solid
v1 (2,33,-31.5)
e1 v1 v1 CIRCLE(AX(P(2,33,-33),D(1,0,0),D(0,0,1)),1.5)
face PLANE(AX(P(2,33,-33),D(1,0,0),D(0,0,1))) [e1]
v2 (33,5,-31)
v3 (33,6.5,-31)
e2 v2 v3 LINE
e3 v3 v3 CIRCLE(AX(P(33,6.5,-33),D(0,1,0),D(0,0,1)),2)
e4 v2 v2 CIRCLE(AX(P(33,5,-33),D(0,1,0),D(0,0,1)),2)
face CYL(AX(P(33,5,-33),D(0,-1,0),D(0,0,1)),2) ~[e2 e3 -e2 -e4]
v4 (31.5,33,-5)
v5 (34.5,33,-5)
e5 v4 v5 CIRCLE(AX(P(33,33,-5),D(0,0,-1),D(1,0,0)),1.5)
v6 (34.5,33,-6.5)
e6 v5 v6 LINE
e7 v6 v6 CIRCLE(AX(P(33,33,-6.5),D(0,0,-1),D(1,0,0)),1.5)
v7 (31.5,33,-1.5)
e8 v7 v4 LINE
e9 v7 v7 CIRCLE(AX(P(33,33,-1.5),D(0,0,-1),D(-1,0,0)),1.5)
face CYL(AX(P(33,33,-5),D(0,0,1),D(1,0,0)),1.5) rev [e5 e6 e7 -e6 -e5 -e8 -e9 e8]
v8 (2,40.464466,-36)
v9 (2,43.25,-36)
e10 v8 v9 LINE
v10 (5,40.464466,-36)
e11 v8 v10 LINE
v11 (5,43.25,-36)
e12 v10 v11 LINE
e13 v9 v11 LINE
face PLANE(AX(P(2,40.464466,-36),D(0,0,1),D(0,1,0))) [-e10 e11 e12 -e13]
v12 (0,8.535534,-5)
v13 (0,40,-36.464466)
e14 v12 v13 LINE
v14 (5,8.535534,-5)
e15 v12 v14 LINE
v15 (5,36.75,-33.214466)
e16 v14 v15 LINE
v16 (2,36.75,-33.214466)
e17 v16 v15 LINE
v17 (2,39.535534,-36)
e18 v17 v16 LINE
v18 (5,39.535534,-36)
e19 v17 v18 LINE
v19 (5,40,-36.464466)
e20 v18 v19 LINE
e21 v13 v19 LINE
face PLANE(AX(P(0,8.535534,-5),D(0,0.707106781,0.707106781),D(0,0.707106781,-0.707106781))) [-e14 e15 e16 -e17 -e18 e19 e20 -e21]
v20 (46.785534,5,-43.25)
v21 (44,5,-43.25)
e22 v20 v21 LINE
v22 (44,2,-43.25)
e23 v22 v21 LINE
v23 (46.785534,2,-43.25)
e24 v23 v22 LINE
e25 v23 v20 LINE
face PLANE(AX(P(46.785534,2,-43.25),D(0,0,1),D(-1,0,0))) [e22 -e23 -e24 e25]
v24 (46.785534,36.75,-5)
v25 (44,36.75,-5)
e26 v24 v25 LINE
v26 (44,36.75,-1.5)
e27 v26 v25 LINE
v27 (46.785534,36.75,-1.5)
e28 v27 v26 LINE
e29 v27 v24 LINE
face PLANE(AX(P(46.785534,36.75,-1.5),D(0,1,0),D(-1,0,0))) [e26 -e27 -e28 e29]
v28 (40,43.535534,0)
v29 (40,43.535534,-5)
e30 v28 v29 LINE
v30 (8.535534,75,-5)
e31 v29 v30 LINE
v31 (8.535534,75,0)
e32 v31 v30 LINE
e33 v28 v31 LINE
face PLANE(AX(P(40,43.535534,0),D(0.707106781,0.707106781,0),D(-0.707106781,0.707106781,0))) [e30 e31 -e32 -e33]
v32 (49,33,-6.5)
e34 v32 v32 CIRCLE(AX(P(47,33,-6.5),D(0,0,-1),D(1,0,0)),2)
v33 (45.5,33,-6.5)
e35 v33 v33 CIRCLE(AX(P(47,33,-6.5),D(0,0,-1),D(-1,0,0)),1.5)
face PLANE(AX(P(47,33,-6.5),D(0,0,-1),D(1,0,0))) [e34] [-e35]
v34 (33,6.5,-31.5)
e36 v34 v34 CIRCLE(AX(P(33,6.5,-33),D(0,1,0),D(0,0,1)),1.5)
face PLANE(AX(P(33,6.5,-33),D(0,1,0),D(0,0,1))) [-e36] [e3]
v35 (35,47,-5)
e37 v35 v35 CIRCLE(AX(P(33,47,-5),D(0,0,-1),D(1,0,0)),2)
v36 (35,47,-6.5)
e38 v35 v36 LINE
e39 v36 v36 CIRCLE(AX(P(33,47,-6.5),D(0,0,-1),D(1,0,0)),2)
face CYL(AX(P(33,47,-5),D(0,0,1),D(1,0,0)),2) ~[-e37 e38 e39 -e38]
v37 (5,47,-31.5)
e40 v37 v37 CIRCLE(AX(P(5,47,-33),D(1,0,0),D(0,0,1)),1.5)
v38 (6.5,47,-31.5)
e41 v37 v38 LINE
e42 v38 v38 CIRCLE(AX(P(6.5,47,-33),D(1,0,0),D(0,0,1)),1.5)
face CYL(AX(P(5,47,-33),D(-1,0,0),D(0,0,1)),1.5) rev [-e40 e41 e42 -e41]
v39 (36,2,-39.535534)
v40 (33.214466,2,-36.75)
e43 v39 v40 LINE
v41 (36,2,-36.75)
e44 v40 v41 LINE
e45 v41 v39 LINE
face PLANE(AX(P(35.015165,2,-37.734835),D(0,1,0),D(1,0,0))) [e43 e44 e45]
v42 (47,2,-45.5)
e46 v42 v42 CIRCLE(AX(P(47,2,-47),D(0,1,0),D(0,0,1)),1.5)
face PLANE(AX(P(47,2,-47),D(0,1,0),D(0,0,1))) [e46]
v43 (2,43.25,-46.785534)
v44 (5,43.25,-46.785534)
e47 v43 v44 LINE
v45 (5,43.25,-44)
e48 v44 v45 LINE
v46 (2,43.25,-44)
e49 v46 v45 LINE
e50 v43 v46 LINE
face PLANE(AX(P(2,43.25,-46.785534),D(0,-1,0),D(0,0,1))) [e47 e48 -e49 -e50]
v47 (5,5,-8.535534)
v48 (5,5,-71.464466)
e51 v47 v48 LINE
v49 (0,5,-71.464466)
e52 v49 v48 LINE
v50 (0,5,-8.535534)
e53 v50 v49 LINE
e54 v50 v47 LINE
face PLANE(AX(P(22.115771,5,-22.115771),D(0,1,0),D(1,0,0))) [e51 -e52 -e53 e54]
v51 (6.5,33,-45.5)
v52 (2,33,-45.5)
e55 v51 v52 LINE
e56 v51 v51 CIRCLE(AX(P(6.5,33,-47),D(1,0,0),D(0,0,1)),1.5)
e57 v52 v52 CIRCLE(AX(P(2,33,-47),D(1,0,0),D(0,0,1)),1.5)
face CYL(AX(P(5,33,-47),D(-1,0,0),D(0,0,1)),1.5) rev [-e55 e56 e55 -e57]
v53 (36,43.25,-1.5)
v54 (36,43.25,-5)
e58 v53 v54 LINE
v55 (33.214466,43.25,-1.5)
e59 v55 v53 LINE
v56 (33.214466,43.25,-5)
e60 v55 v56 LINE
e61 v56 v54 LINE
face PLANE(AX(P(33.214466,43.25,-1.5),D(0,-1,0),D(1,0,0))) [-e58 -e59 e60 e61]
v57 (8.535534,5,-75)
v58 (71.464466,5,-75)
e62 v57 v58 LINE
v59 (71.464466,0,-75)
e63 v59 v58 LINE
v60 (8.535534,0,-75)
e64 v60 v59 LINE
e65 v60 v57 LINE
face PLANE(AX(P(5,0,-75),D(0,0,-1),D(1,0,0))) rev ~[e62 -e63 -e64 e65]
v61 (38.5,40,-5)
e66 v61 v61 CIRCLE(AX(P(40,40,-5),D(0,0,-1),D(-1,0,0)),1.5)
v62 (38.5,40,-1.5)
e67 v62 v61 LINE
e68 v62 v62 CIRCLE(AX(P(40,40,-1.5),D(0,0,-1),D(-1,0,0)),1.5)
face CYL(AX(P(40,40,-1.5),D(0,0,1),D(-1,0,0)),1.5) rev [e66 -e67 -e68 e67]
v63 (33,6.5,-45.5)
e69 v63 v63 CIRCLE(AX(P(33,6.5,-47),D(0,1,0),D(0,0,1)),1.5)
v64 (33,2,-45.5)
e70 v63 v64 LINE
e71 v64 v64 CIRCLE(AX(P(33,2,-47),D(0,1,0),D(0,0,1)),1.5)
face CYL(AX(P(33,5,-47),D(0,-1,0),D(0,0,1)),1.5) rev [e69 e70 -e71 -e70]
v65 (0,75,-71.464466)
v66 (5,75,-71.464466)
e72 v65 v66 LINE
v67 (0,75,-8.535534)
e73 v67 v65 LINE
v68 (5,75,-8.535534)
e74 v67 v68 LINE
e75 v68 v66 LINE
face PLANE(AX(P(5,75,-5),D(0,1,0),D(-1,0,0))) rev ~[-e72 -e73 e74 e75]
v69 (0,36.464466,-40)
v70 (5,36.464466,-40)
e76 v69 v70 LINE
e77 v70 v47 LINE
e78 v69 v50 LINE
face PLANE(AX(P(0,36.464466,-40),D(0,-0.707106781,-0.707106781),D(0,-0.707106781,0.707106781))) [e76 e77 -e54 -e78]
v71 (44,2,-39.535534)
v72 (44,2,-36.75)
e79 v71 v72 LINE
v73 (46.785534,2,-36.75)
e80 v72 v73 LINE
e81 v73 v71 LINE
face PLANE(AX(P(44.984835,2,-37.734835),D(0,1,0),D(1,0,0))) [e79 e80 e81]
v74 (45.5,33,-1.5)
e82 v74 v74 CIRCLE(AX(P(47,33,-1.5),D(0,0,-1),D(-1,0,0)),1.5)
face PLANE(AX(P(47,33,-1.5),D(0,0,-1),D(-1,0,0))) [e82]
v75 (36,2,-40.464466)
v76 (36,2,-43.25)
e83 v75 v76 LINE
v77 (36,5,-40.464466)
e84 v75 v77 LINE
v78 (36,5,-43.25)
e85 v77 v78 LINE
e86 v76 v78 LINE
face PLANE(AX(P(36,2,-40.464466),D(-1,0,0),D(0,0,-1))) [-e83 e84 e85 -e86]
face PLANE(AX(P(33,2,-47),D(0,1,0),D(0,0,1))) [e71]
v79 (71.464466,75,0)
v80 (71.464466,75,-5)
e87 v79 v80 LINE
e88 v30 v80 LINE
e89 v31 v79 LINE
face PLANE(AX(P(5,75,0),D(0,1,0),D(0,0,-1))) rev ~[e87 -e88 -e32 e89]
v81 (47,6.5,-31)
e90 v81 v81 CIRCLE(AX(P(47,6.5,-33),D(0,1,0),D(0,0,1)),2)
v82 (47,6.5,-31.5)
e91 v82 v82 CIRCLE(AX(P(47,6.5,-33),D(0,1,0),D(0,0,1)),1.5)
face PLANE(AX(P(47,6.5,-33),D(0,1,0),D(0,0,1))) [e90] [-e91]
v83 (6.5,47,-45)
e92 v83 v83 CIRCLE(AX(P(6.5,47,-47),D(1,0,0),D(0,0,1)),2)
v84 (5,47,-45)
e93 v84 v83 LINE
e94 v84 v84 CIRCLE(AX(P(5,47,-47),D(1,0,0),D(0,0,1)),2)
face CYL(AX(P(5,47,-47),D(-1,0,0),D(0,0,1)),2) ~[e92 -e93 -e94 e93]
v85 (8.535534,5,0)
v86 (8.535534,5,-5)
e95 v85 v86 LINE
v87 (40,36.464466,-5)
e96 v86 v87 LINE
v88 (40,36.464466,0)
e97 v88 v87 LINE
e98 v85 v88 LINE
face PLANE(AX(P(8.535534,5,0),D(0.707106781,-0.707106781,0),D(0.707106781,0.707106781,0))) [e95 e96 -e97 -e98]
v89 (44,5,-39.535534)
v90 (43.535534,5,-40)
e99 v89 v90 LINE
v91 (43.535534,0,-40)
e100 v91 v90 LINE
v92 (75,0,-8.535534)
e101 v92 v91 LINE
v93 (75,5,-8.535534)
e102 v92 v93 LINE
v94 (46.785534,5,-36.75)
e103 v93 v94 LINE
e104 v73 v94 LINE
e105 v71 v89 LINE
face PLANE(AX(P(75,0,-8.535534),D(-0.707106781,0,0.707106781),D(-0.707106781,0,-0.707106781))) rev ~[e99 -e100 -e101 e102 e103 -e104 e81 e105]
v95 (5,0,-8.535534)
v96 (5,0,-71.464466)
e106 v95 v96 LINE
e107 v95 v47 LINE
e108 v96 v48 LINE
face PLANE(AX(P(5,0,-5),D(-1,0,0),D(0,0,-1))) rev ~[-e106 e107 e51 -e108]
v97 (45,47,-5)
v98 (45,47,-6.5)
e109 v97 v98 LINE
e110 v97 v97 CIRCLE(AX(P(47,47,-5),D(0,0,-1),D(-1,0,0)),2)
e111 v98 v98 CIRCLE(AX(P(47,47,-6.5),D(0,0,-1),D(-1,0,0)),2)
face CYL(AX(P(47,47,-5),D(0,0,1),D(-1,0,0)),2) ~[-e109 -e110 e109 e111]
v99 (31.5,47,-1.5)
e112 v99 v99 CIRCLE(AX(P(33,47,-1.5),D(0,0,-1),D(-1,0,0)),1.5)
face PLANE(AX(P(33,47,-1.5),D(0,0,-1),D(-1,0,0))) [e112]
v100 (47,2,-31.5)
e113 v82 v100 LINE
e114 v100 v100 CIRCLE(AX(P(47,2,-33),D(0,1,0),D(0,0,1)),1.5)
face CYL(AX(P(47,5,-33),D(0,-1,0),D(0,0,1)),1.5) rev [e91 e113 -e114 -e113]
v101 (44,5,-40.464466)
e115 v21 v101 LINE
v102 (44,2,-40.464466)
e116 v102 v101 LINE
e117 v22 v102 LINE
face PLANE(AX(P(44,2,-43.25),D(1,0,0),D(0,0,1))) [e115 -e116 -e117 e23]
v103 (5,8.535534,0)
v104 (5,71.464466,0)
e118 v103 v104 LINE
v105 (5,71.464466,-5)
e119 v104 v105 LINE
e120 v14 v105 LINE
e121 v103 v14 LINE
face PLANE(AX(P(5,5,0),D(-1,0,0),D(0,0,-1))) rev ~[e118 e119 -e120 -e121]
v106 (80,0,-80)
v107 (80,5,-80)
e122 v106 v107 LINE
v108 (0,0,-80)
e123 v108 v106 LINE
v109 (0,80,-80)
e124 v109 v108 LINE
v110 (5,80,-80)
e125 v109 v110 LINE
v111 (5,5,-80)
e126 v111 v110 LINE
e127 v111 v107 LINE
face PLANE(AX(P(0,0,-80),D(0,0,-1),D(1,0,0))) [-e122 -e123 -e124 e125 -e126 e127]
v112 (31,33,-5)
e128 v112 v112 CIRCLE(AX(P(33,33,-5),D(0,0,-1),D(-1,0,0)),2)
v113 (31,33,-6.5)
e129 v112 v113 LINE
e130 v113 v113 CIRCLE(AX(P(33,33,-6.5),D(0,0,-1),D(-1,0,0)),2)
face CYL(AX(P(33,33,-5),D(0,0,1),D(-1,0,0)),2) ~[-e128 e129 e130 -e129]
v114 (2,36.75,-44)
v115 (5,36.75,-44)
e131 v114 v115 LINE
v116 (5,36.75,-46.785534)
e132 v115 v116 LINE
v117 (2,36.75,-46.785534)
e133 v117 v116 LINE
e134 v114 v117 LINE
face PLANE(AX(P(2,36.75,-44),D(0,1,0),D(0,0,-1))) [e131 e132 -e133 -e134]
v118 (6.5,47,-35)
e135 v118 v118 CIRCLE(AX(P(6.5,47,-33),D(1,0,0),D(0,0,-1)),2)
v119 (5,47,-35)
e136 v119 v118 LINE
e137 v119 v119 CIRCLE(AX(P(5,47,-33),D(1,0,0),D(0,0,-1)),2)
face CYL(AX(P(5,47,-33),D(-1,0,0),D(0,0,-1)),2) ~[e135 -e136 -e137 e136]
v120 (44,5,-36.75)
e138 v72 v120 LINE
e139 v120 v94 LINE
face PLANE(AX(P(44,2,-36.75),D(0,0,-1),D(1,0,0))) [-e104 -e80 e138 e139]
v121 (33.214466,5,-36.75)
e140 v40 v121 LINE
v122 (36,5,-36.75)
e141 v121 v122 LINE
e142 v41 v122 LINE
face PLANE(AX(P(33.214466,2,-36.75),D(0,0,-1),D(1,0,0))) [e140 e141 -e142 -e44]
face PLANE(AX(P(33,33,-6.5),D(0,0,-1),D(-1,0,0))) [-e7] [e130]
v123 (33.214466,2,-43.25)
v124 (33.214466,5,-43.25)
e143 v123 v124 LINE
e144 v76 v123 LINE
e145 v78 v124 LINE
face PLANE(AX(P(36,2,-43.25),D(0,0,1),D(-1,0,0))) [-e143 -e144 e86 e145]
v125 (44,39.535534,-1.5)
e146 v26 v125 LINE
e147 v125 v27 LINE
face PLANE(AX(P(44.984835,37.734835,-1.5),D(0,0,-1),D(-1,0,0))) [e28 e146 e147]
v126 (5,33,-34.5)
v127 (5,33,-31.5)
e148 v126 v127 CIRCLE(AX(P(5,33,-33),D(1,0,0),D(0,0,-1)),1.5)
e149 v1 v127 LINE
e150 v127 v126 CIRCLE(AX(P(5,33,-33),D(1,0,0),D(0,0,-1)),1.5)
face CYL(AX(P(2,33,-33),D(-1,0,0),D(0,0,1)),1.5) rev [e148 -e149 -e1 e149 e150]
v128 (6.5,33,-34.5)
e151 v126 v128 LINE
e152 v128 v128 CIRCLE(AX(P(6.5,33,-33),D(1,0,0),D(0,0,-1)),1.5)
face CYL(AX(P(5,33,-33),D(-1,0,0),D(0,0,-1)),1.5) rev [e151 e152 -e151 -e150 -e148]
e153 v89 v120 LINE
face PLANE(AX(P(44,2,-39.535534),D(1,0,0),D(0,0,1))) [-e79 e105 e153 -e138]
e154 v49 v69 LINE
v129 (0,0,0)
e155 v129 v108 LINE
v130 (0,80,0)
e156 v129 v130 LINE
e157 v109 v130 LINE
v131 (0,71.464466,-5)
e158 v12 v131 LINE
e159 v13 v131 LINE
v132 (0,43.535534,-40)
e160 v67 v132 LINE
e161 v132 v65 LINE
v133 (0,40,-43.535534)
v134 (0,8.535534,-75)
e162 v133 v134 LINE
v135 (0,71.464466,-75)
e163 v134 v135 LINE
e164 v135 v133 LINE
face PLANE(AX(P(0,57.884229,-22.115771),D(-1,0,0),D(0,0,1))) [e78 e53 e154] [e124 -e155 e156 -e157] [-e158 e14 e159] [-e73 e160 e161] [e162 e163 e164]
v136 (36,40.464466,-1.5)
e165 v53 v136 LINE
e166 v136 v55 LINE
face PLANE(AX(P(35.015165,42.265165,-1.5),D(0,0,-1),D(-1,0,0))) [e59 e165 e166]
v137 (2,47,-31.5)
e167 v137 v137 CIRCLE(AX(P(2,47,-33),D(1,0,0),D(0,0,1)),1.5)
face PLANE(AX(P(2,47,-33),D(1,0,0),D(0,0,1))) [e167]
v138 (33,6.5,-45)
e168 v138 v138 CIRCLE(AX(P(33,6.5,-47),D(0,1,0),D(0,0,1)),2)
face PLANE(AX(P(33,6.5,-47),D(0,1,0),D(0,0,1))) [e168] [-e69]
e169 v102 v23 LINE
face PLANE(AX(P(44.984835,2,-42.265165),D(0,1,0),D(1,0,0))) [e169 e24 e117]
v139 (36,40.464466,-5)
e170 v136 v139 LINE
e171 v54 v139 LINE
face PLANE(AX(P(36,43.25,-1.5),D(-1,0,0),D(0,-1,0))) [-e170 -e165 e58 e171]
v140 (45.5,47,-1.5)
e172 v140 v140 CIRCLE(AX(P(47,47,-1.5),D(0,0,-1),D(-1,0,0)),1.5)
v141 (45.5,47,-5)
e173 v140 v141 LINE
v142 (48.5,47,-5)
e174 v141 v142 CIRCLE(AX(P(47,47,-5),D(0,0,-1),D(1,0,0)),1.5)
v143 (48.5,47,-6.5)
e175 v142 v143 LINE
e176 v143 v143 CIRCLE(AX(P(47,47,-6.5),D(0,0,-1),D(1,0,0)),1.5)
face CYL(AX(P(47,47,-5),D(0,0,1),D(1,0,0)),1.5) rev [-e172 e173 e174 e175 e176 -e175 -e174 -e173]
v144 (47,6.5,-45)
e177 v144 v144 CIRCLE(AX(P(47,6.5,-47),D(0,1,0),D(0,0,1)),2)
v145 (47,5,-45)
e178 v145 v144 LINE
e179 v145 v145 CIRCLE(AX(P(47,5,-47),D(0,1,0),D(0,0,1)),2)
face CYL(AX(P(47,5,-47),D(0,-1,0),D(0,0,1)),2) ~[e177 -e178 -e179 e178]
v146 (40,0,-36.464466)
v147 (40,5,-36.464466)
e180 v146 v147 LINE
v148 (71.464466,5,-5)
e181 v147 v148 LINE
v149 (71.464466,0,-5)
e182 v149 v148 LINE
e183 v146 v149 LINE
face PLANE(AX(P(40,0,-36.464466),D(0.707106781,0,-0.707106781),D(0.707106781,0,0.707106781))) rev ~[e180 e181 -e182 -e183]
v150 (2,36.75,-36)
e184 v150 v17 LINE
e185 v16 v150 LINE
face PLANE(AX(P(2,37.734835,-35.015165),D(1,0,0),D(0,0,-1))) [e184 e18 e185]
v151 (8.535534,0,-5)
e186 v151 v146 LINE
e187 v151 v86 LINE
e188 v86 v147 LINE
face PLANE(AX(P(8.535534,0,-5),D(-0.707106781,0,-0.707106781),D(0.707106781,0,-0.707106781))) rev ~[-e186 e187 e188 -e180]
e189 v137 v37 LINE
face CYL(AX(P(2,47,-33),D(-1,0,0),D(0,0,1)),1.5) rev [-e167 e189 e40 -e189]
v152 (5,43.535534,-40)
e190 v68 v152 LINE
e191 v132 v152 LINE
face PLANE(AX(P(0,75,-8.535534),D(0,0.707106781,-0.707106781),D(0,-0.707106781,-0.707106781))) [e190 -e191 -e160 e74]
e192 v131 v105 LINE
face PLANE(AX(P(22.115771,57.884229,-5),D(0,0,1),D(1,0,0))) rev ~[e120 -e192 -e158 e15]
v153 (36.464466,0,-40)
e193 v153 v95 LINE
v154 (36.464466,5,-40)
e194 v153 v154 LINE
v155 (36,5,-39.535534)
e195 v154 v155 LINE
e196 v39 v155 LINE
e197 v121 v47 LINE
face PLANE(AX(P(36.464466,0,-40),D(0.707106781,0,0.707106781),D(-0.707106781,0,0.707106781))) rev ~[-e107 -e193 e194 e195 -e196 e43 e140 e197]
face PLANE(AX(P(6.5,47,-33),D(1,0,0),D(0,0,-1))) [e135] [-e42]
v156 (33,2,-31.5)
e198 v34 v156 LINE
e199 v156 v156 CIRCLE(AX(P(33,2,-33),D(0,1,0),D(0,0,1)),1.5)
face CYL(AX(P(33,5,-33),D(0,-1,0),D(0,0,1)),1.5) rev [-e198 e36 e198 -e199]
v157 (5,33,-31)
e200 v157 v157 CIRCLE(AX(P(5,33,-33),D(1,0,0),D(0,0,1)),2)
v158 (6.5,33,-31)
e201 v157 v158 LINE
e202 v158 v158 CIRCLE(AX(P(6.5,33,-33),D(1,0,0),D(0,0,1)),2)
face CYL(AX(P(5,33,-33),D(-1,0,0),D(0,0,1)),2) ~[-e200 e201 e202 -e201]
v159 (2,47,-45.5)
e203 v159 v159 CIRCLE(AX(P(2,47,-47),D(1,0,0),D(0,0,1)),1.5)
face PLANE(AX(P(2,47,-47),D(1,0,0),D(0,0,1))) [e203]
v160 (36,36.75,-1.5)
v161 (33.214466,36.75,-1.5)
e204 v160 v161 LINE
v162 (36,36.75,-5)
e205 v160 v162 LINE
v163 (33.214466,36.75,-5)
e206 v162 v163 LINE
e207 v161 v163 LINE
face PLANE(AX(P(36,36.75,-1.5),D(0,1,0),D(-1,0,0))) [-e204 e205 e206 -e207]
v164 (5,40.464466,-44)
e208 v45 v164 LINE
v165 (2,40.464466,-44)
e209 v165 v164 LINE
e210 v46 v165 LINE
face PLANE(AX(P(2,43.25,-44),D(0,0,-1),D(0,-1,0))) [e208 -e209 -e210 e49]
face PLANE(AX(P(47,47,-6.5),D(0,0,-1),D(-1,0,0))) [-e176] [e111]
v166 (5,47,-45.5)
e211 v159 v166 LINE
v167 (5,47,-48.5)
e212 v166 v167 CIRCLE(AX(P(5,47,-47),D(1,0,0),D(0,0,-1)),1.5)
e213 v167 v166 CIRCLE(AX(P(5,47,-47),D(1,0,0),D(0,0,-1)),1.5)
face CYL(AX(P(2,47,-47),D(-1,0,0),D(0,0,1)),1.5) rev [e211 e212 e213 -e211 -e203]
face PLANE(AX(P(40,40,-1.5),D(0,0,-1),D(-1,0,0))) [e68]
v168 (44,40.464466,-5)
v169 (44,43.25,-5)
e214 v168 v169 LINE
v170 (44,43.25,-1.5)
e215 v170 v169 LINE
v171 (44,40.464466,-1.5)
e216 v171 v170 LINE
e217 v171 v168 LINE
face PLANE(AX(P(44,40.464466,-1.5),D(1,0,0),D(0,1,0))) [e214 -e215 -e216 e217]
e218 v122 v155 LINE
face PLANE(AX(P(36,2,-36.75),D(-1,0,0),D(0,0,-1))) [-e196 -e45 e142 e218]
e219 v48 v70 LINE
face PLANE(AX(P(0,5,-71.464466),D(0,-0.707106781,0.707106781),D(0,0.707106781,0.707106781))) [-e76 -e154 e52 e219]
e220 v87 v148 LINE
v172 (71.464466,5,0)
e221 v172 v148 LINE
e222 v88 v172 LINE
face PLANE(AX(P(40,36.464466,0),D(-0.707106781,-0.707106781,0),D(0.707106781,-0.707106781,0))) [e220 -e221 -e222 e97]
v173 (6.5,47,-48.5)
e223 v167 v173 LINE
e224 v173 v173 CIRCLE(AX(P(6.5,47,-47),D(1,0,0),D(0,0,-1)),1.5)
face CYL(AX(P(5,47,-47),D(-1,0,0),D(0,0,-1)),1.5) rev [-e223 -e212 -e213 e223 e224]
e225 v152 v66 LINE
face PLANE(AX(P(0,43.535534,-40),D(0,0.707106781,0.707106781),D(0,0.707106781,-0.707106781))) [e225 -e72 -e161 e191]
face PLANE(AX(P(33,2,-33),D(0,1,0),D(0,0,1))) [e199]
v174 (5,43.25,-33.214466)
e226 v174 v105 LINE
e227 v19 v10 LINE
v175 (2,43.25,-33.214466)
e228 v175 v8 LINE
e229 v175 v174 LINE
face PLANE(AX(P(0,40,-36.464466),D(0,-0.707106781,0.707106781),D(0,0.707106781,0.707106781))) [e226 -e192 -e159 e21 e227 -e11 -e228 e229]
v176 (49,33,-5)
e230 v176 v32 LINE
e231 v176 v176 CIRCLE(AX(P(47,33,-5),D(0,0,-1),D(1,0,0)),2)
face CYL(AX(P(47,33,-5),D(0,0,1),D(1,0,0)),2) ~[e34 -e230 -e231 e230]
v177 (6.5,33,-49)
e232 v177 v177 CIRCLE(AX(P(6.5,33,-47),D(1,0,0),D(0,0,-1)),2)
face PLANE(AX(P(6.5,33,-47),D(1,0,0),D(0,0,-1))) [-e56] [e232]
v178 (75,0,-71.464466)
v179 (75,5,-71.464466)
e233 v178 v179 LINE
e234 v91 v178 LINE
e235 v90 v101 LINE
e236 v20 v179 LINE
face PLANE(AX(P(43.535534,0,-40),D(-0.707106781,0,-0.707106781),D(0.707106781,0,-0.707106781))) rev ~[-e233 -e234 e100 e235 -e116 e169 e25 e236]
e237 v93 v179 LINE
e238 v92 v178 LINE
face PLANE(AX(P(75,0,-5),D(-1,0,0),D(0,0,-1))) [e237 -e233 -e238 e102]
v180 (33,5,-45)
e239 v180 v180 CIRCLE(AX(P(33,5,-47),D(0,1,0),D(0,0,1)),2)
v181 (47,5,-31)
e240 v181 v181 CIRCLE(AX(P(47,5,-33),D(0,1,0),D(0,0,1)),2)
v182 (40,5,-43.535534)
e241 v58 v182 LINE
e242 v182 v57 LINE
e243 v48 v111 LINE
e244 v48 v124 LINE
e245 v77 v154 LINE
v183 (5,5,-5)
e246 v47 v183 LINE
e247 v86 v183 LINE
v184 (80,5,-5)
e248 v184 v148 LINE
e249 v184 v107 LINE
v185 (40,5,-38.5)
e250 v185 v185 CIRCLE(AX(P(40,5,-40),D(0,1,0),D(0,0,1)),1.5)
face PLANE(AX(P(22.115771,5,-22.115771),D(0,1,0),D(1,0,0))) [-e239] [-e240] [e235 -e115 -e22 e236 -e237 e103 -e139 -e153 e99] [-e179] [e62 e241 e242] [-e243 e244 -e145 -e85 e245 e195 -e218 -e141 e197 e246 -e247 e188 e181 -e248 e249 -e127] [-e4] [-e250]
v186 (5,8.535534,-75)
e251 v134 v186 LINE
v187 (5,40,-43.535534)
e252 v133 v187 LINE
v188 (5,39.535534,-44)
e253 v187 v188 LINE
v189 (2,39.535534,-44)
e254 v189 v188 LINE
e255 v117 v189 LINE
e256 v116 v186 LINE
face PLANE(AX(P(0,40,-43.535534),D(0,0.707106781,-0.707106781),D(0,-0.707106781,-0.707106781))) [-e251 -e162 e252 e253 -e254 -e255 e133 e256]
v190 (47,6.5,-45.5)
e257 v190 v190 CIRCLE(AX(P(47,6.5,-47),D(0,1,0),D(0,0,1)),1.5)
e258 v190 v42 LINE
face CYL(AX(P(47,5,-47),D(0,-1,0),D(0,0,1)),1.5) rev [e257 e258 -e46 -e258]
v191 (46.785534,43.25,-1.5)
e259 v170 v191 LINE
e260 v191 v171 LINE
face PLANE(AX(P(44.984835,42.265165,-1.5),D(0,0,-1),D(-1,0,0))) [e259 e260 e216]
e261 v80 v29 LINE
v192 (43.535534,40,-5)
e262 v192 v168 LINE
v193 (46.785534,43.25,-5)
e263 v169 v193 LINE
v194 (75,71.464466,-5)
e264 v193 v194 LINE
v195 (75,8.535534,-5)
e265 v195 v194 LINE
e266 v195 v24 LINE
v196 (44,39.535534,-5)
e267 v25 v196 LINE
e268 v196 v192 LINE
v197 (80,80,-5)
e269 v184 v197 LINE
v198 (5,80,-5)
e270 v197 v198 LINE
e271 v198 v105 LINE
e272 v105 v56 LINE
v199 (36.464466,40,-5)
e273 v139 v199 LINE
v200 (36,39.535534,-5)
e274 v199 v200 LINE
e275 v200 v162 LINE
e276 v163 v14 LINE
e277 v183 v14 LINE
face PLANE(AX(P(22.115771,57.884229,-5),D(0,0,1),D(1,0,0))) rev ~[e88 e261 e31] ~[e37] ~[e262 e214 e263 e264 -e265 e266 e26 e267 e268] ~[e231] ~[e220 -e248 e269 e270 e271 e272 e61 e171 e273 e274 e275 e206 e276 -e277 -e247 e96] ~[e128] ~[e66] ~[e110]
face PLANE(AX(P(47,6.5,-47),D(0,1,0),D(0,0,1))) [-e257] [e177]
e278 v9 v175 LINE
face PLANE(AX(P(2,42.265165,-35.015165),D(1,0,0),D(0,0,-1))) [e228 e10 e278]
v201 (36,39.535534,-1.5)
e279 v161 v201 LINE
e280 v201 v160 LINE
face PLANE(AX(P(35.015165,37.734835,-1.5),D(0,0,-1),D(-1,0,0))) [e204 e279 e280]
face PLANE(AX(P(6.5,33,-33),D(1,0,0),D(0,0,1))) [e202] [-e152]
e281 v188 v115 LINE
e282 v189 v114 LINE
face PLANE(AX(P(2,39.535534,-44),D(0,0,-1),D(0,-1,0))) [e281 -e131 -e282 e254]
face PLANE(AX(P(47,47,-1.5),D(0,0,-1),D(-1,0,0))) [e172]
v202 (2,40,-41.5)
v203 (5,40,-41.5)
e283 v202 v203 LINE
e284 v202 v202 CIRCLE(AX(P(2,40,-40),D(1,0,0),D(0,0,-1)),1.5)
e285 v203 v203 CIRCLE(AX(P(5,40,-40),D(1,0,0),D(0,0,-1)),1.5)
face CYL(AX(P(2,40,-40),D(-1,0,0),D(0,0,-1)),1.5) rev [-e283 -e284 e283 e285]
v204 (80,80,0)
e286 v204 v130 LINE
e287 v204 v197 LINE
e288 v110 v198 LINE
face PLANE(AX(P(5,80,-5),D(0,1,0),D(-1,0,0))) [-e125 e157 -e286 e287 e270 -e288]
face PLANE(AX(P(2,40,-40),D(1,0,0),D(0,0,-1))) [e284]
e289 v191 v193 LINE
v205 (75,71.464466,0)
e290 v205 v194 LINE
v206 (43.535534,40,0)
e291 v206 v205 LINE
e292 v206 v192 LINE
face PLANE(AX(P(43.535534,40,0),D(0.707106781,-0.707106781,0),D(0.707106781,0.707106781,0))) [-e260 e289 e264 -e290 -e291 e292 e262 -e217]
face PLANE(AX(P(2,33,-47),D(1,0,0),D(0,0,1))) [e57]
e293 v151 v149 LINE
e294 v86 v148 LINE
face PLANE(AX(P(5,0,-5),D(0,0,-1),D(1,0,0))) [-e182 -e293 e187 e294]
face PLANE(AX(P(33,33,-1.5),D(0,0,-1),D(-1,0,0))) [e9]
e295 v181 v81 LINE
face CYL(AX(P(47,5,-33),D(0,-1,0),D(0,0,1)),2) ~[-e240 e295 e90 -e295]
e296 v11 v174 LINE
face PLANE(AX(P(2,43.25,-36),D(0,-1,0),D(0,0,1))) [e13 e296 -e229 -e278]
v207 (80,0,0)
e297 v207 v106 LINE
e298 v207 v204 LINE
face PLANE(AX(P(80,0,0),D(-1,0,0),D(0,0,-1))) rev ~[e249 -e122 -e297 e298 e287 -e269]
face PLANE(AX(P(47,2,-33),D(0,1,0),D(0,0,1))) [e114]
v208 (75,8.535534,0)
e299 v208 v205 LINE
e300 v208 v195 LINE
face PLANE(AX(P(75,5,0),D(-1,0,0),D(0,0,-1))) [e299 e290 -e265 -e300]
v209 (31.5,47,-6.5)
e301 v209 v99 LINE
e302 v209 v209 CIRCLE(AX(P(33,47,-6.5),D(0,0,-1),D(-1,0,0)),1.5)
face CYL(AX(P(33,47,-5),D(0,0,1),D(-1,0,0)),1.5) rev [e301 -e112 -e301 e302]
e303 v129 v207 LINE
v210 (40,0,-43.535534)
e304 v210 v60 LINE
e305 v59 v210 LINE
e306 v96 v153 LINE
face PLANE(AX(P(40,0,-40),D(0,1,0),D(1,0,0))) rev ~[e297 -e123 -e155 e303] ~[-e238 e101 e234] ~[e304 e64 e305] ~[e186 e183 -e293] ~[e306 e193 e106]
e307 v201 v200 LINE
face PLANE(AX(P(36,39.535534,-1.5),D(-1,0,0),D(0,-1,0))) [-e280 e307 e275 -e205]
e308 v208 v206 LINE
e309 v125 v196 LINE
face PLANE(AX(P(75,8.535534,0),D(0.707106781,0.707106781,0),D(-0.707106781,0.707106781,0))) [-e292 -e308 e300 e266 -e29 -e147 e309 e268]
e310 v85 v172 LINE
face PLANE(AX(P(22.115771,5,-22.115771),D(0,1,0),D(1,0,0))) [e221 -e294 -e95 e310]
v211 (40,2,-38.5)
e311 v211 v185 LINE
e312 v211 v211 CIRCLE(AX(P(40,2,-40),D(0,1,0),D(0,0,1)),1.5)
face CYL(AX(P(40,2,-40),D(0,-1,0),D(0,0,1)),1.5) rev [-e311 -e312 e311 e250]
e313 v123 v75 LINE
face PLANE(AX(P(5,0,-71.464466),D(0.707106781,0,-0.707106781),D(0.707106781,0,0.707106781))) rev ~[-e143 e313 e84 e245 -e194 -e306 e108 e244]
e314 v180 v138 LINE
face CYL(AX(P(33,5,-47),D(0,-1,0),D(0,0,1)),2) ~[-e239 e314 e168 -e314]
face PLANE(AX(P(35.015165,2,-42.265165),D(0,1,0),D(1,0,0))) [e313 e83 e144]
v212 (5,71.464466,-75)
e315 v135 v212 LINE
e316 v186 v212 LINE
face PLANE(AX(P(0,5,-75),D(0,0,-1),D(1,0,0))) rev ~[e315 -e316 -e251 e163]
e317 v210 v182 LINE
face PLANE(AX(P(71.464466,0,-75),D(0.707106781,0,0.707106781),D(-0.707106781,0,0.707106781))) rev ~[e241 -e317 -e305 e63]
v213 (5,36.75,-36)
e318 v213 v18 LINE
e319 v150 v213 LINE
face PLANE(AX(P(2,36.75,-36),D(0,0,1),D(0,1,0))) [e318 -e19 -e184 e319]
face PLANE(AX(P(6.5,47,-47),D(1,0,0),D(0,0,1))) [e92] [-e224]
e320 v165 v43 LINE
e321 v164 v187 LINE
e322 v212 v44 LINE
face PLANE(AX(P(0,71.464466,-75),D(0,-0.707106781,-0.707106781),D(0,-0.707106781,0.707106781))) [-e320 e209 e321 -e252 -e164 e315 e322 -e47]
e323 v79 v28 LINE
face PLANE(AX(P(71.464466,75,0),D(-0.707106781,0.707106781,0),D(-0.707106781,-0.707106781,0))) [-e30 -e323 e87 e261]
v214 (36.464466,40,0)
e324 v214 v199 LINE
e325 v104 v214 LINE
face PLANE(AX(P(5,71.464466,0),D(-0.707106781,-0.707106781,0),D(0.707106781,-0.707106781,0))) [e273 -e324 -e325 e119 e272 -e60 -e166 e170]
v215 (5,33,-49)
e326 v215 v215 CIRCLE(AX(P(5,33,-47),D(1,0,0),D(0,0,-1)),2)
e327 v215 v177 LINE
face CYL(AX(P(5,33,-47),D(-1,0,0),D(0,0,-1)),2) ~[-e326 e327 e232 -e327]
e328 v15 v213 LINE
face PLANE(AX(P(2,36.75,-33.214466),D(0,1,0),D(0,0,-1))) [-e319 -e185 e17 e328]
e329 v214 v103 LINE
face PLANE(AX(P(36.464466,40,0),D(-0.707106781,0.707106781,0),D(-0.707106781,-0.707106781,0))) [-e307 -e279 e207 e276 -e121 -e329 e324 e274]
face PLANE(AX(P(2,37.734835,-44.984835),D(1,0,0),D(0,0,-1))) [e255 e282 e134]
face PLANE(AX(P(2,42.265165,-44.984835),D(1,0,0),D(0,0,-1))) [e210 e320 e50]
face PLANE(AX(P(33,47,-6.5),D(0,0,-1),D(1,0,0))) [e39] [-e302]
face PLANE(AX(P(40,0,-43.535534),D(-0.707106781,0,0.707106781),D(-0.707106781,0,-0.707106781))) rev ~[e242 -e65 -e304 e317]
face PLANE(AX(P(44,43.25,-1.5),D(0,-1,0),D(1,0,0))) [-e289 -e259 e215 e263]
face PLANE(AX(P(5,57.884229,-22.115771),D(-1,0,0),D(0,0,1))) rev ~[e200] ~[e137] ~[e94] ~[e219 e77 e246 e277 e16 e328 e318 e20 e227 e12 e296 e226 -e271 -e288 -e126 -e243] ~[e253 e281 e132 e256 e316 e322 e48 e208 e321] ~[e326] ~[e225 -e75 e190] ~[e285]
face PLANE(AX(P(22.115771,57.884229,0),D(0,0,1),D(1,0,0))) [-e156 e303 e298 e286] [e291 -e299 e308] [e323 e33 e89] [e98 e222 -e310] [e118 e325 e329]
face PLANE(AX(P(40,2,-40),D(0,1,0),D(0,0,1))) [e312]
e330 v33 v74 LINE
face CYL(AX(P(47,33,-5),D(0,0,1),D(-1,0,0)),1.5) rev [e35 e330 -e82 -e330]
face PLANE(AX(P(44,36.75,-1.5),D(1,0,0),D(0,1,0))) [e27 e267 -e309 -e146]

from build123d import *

# Parameters (mm, degrees)
SKETCH_1_W          = 80
SKETCH_1_H          = 80
SKETCH_1_W_2        = 70
SKETCH_1_H_2        = 70
EXTRUDE_1_DEPTH     = 5
SKETCH_2_W          = 5
SKETCH_2_H          = 5
EXTRUDE_2_DEPTH     = 75
SKETCH_4_W          = 5
SKETCH_4_H          = 5
EXTRUDE_3_DEPTH     = 70
EXTRUDE_4_DEPTH     = 5
SKETCH_7_W          = 5
SKETCH_7_H          = 5
EXTRUDE_5_DEPTH     = 70
EXTRUDE_6_DEPTH     = 5
SKETCH_11_R         = 2
SKETCH_11_R_2       = 1.5
EXTRUDE_7_DEPTH     = 1.5
CUT_EXTRUDE_START   = -3
SKETCH_11_2_R       = 1.5
CUT_EXTRUDE_1_DEPTH = 3
SKETCH_12_R         = 2
SKETCH_12_R_2       = 1.5
EXTRUDE_8_DEPTH     = 1.5
CUT_EXTRUDE_START_2 = -3.5
SKETCH_12_2_R       = 1.5
CUT_EXTRUDE_2_DEPTH = 3.5
SKETCH_13_R         = 2
SKETCH_13_R_2       = 1.5
EXTRUDE_9_DEPTH     = 1.5
SKETCH_13_2_R       = 1.5
CUT_EXTRUDE_3_DEPTH = 3


with BuildPart() as part:
    # 草图1 → 凸台-拉伸1 (new body)
    # profile 1 of 6: a face of its own
    with BuildSketch(Plane(origin=(0, 0, 0), x_dir=(1, 0, 0), z_dir=(0, 1, 0))):
        with Locations((40, 40)):
            Rectangle(SKETCH_1_W, SKETCH_1_H)
        with Locations((40, 40)):
            Rectangle(SKETCH_1_W_2, SKETCH_1_H_2, mode=Mode.SUBTRACT)
    # profile 2 of 6: a face of its own
    with BuildSketch(Plane(origin=(0, 0, 0), x_dir=(1, 0, 0), z_dir=(0, 1, 0))):
        Polygon((5, 8.535533906), (5, 5), (8.535533906, 5), (40, 36.464466094), (36.464466094, 40), align=None)
    # profile 3 of 6: a face of its own
    with BuildSketch(Plane(origin=(0, 0, 0), x_dir=(1, 0, 0), z_dir=(0, 1, 0))):
        Polygon((40, 36.464466094), (71.464466094, 5), (75, 5), (75, 8.535533906), (43.535533906, 40), align=None)
    # profile 4 of 6: a face of its own
    with BuildSketch(Plane(origin=(0, 0, 0), x_dir=(1, 0, 0), z_dir=(0, 1, 0))):
        Polygon((40, 43.535533906), (43.535533906, 40), (75, 71.464466094), (75, 75), (71.464466094, 75), align=None)
    # profile 5 of 6: a face of its own
    with BuildSketch(Plane(origin=(0, 0, 0), x_dir=(1, 0, 0), z_dir=(0, 1, 0))):
        Polygon((5, 75), (5, 71.464466094), (36.464466094, 40), (40, 43.535533906), (8.535533906, 75), align=None)
    # profile 6 of 6: a face of its own
    with BuildSketch(Plane(origin=(0, 0, 0), x_dir=(1, 0, 0), z_dir=(0, 1, 0))):
        Polygon((36.464466094, 40), (40, 36.464466094), (43.535533906, 40), (40, 43.535533906), align=None)
    extrude(amount=EXTRUDE_1_DEPTH)

    # 草图2 → 凸台-拉伸2 (add)
    with BuildSketch(Plane(origin=(0, 5, 0), x_dir=(1, 0, 0), z_dir=(0, 1, 0))):
        with Locations((2.5, 2.5)):
            Rectangle(SKETCH_2_W, SKETCH_2_H)
        with Locations((77.5, 2.5)):
            Rectangle(SKETCH_2_W, SKETCH_2_H)
        with Locations((2.5, 77.5)):
            Rectangle(SKETCH_2_W, SKETCH_2_H)
    extrude(amount=EXTRUDE_2_DEPTH)

    # 草图4 → 凸台-拉伸3 (add)
    with BuildSketch(Plane(origin=(5, 0, 0), x_dir=(0, 0, -1), z_dir=(1, 0, 0))):
        with Locations((2.5, 77.5)):
            Rectangle(SKETCH_4_W, SKETCH_4_H)
    extrude(amount=EXTRUDE_3_DEPTH)

    # 草图6 → 凸台-拉伸4 (add)
    with BuildSketch(Plane.XY):
        Polygon((5, 75), (5, 71.464466094), (36.464466094, 40), (40, 43.535533906), (8.535533906, 75), align=None)
        Polygon((40, 43.535533906), (43.535533906, 40), (75, 71.464466094), (75, 75), (71.464466094, 75), align=None)
        Polygon((5, 8.535533906), (5, 5), (8.535533906, 5), (40, 36.464466094), (36.464466094, 40), align=None)
        Polygon((36.464466094, 40), (40, 36.464466094), (43.535533906, 40), (40, 43.535533906), align=None)
        Polygon((40, 36.464466094), (71.464466094, 5), (75, 5), (75, 8.535533906), (43.535533906, 40), align=None)
    extrude(amount=-EXTRUDE_4_DEPTH)

    # 草图7 → 凸台-拉伸5 (add)
    with BuildSketch(Plane(origin=(0, 0, -5), x_dir=(-1, 0, 0), z_dir=(0, 0, -1))):
        with Locations((-2.5, 77.5)):
            Rectangle(SKETCH_7_W, SKETCH_7_H)
    extrude(amount=EXTRUDE_5_DEPTH)

    # 草图8 → 凸台-拉伸6 (add)
    with BuildSketch(Plane.ZY):
        Polygon((-5, 75), (-8.535533906, 75), (-40, 43.535533906), (-36.464466094, 40), (-5, 71.464466094), align=None)
        Polygon((-40, 43.535533906), (-43.535533906, 40), (-40, 36.464466094), (-36.464466094, 40), align=None)
        Polygon((-36.464466094, 40), (-40, 36.464466094), (-8.535533906, 5), (-5, 5), (-5, 8.535533906), align=None)
        Polygon((-71.464466094, 75), (-75, 75), (-75, 71.464466094), (-43.535533906, 40), (-40, 43.535533906), align=None)
        Polygon((-43.535533906, 40), (-75, 8.535533906), (-75, 5), (-71.464466094, 5), (-40, 36.464466094), align=None)
    extrude(amount=-EXTRUDE_6_DEPTH)

    # 草图11 → 凸台-拉伸7 (add)
    # profile 1 of 4: a face of its own
    with BuildSketch(Plane(origin=(0, 5, 0), x_dir=(1, 0, 0), z_dir=(0, 1, 0))):
        with Locations(Location((47, 47, 0), (0, 0, 270))):
            Circle(SKETCH_11_R)
        with Locations(Location((47, 47, 0), (0, 0, 270))):
            Circle(SKETCH_11_R_2, mode=Mode.SUBTRACT)
    # profile 2 of 4: a face of its own
    with BuildSketch(Plane(origin=(0, 5, 0), x_dir=(1, 0, 0), z_dir=(0, 1, 0))):
        with Locations(Location((47, 33, 0), (0, 0, 270))):
            Circle(SKETCH_11_R)
        with Locations(Location((47, 33, 0), (0, 0, 270))):
            Circle(SKETCH_11_R_2, mode=Mode.SUBTRACT)
    # profile 3 of 4: a face of its own
    with BuildSketch(Plane(origin=(0, 5, 0), x_dir=(1, 0, 0), z_dir=(0, 1, 0))):
        with Locations(Location((33, 33, 0), (0, 0, 270))):
            Circle(SKETCH_11_R)
        with Locations(Location((33, 33, 0), (0, 0, 270))):
            Circle(SKETCH_11_R_2, mode=Mode.SUBTRACT)
    # profile 4 of 4: a face of its own
    with BuildSketch(Plane(origin=(0, 5, 0), x_dir=(1, 0, 0), z_dir=(0, 1, 0))):
        with Locations(Location((33, 47, 0), (0, 0, 270))):
            Circle(SKETCH_11_R)
        with Locations(Location((33, 47, 0), (0, 0, 270))):
            Circle(SKETCH_11_R_2, mode=Mode.SUBTRACT)
    extrude(amount=EXTRUDE_7_DEPTH)

    # 草图11<2> → 切除-拉伸1 (cut)
    with BuildSketch(Plane(origin=(0, 5, 0), x_dir=(1, 0, 0), z_dir=(0, 1, 0)).offset(CUT_EXTRUDE_START)):
        with Locations(Location((33, 47, 0), (0, 0, 270))):
            Circle(SKETCH_11_2_R)
        with Locations(Location((33, 33, 0), (0, 0, 270))):
            Circle(SKETCH_11_2_R)
        Polygon((36, 39.535533906), (33.214466094, 36.75), (36, 36.75), align=None)
        Polygon((36, 43.25), (33.214466094, 43.25), (36, 40.464466094), align=None)
        Polygon((44, 40.464466094), (46.785533906, 43.25), (44, 43.25), align=None)
        Polygon((44, 36.75), (46.785533906, 36.75), (44, 39.535533906), align=None)
        with Locations(Location((47, 47, 0), (0, 0, 270))):
            Circle(SKETCH_11_2_R)
        with Locations(Location((47, 33, 0), (0, 0, 270))):
            Circle(SKETCH_11_2_R)
        with Locations(Location((40, 40, 0), (0, 0, 270))):
            Circle(SKETCH_11_2_R)
    extrude(amount=CUT_EXTRUDE_1_DEPTH, mode=Mode.SUBTRACT)

    # 草图12 → 凸台-拉伸8 (add)
    # profile 1 of 4: a face of its own
    with BuildSketch(Plane(origin=(0, 0, -5), x_dir=(-1, 0, 0), z_dir=(0, 0, -1))):
        with Locations(Location((-33, 47, 0), (0, 0, 180))):
            Circle(SKETCH_12_R)
        with Locations((-33, 47)):
            Circle(SKETCH_12_R_2, mode=Mode.SUBTRACT)
    # profile 2 of 4: a face of its own
    with BuildSketch(Plane(origin=(0, 0, -5), x_dir=(-1, 0, 0), z_dir=(0, 0, -1))):
        with Locations((-33, 33)):
            Circle(SKETCH_12_R)
        with Locations(Location((-33, 33, 0), (0, 0, 180))):
            Circle(SKETCH_12_R_2, mode=Mode.SUBTRACT)
    # profile 3 of 4: a face of its own
    with BuildSketch(Plane(origin=(0, 0, -5), x_dir=(-1, 0, 0), z_dir=(0, 0, -1))):
        with Locations(Location((-47, 33, 0), (0, 0, 180))):
            Circle(SKETCH_12_R)
        with Locations((-47, 33)):
            Circle(SKETCH_12_R_2, mode=Mode.SUBTRACT)
    # profile 4 of 4: a face of its own
    with BuildSketch(Plane(origin=(0, 0, -5), x_dir=(-1, 0, 0), z_dir=(0, 0, -1))):
        with Locations((-47, 47)):
            Circle(SKETCH_12_R)
        with Locations(Location((-47, 47, 0), (0, 0, 180))):
            Circle(SKETCH_12_R_2, mode=Mode.SUBTRACT)
    extrude(amount=EXTRUDE_8_DEPTH)

    # 草图12<2> → 切除-拉伸2 (cut)
    with BuildSketch(Plane(origin=(0, 0, -5), x_dir=(-1, 0, 0), z_dir=(0, 0, -1)).offset(CUT_EXTRUDE_START_2)):
        with Locations((-47, 33)):
            Circle(SKETCH_12_2_R)
        with Locations((-33, 33)):
            Circle(SKETCH_12_2_R)
        with Locations((-33, 47)):
            Circle(SKETCH_12_2_R)
        with Locations((-47, 47)):
            Circle(SKETCH_12_2_R)
        Polygon((-44, 43.25), (-46.785533906, 43.25), (-44, 40.464466094), align=None)
        Polygon((-44, 39.535533906), (-46.785533906, 36.75), (-44, 36.75), align=None)
        Polygon((-33.214466094, 36.75), (-36, 39.535533906), (-36, 36.75), align=None)
        Polygon((-33.214466094, 43.25), (-36, 43.25), (-36, 40.464466094), align=None)
        with Locations((-40, 40)):
            Circle(SKETCH_12_2_R)
    extrude(amount=CUT_EXTRUDE_2_DEPTH, mode=Mode.SUBTRACT)

    # 草图13 → 凸台-拉伸9 (add)
    # profile 1 of 4: a face of its own
    with BuildSketch(Plane(origin=(5, 0, 0), x_dir=(0, 0, -1), z_dir=(1, 0, 0))):
        with Locations((33, 47)):
            Circle(SKETCH_13_R)
        with Locations(Location((33, 47, 0), (0, 0, 180))):
            Circle(SKETCH_13_R_2, mode=Mode.SUBTRACT)
    # profile 2 of 4: a face of its own
    with BuildSketch(Plane(origin=(5, 0, 0), x_dir=(0, 0, -1), z_dir=(1, 0, 0))):
        with Locations(Location((47, 47, 0), (0, 0, 180))):
            Circle(SKETCH_13_R)
        with Locations((47, 47)):
            Circle(SKETCH_13_R_2, mode=Mode.SUBTRACT)
    # profile 3 of 4: a face of its own
    with BuildSketch(Plane(origin=(5, 0, 0), x_dir=(0, 0, -1), z_dir=(1, 0, 0))):
        with Locations(Location((33, 33, 0), (0, 0, 180))):
            Circle(SKETCH_13_R)
        with Locations((33, 33)):
            Circle(SKETCH_13_R_2, mode=Mode.SUBTRACT)
    # profile 4 of 4: a face of its own
    with BuildSketch(Plane(origin=(5, 0, 0), x_dir=(0, 0, -1), z_dir=(1, 0, 0))):
        with Locations((47, 33)):
            Circle(SKETCH_13_R)
        with Locations(Location((47, 33, 0), (0, 0, 180))):
            Circle(SKETCH_13_R_2, mode=Mode.SUBTRACT)
    extrude(amount=EXTRUDE_9_DEPTH)

    # 草图13<2> → 切除-拉伸3 (cut)
    with BuildSketch(Plane(origin=(5, 0, 0), x_dir=(0, 0, -1), z_dir=(1, 0, 0)).offset(CUT_EXTRUDE_START)):
        with Locations(Location((33, 33, 0), (0, 0, 180))):
            Circle(SKETCH_13_2_R)
        with Locations(Location((33, 47, 0), (0, 0, 180))):
            Circle(SKETCH_13_2_R)
        with Locations(Location((47, 47, 0), (0, 0, 180))):
            Circle(SKETCH_13_2_R)
        with Locations(Location((47, 33, 0), (0, 0, 180))):
            Circle(SKETCH_13_2_R)
        Polygon((36, 43.25), (33.214466094, 43.25), (36, 40.464466094), align=None)
        Polygon((36, 39.535533906), (33.214466094, 36.75), (36, 36.75), align=None)
        Polygon((46.785533906, 36.75), (44, 39.535533906), (44, 36.75), align=None)
        Polygon((46.785533906, 43.25), (44, 43.25), (44, 40.464466094), align=None)
        with Locations((40, 40)):
            Circle(SKETCH_13_2_R)
    extrude(amount=CUT_EXTRUDE_3_DEPTH, mode=Mode.SUBTRACT)


solid = part.part
